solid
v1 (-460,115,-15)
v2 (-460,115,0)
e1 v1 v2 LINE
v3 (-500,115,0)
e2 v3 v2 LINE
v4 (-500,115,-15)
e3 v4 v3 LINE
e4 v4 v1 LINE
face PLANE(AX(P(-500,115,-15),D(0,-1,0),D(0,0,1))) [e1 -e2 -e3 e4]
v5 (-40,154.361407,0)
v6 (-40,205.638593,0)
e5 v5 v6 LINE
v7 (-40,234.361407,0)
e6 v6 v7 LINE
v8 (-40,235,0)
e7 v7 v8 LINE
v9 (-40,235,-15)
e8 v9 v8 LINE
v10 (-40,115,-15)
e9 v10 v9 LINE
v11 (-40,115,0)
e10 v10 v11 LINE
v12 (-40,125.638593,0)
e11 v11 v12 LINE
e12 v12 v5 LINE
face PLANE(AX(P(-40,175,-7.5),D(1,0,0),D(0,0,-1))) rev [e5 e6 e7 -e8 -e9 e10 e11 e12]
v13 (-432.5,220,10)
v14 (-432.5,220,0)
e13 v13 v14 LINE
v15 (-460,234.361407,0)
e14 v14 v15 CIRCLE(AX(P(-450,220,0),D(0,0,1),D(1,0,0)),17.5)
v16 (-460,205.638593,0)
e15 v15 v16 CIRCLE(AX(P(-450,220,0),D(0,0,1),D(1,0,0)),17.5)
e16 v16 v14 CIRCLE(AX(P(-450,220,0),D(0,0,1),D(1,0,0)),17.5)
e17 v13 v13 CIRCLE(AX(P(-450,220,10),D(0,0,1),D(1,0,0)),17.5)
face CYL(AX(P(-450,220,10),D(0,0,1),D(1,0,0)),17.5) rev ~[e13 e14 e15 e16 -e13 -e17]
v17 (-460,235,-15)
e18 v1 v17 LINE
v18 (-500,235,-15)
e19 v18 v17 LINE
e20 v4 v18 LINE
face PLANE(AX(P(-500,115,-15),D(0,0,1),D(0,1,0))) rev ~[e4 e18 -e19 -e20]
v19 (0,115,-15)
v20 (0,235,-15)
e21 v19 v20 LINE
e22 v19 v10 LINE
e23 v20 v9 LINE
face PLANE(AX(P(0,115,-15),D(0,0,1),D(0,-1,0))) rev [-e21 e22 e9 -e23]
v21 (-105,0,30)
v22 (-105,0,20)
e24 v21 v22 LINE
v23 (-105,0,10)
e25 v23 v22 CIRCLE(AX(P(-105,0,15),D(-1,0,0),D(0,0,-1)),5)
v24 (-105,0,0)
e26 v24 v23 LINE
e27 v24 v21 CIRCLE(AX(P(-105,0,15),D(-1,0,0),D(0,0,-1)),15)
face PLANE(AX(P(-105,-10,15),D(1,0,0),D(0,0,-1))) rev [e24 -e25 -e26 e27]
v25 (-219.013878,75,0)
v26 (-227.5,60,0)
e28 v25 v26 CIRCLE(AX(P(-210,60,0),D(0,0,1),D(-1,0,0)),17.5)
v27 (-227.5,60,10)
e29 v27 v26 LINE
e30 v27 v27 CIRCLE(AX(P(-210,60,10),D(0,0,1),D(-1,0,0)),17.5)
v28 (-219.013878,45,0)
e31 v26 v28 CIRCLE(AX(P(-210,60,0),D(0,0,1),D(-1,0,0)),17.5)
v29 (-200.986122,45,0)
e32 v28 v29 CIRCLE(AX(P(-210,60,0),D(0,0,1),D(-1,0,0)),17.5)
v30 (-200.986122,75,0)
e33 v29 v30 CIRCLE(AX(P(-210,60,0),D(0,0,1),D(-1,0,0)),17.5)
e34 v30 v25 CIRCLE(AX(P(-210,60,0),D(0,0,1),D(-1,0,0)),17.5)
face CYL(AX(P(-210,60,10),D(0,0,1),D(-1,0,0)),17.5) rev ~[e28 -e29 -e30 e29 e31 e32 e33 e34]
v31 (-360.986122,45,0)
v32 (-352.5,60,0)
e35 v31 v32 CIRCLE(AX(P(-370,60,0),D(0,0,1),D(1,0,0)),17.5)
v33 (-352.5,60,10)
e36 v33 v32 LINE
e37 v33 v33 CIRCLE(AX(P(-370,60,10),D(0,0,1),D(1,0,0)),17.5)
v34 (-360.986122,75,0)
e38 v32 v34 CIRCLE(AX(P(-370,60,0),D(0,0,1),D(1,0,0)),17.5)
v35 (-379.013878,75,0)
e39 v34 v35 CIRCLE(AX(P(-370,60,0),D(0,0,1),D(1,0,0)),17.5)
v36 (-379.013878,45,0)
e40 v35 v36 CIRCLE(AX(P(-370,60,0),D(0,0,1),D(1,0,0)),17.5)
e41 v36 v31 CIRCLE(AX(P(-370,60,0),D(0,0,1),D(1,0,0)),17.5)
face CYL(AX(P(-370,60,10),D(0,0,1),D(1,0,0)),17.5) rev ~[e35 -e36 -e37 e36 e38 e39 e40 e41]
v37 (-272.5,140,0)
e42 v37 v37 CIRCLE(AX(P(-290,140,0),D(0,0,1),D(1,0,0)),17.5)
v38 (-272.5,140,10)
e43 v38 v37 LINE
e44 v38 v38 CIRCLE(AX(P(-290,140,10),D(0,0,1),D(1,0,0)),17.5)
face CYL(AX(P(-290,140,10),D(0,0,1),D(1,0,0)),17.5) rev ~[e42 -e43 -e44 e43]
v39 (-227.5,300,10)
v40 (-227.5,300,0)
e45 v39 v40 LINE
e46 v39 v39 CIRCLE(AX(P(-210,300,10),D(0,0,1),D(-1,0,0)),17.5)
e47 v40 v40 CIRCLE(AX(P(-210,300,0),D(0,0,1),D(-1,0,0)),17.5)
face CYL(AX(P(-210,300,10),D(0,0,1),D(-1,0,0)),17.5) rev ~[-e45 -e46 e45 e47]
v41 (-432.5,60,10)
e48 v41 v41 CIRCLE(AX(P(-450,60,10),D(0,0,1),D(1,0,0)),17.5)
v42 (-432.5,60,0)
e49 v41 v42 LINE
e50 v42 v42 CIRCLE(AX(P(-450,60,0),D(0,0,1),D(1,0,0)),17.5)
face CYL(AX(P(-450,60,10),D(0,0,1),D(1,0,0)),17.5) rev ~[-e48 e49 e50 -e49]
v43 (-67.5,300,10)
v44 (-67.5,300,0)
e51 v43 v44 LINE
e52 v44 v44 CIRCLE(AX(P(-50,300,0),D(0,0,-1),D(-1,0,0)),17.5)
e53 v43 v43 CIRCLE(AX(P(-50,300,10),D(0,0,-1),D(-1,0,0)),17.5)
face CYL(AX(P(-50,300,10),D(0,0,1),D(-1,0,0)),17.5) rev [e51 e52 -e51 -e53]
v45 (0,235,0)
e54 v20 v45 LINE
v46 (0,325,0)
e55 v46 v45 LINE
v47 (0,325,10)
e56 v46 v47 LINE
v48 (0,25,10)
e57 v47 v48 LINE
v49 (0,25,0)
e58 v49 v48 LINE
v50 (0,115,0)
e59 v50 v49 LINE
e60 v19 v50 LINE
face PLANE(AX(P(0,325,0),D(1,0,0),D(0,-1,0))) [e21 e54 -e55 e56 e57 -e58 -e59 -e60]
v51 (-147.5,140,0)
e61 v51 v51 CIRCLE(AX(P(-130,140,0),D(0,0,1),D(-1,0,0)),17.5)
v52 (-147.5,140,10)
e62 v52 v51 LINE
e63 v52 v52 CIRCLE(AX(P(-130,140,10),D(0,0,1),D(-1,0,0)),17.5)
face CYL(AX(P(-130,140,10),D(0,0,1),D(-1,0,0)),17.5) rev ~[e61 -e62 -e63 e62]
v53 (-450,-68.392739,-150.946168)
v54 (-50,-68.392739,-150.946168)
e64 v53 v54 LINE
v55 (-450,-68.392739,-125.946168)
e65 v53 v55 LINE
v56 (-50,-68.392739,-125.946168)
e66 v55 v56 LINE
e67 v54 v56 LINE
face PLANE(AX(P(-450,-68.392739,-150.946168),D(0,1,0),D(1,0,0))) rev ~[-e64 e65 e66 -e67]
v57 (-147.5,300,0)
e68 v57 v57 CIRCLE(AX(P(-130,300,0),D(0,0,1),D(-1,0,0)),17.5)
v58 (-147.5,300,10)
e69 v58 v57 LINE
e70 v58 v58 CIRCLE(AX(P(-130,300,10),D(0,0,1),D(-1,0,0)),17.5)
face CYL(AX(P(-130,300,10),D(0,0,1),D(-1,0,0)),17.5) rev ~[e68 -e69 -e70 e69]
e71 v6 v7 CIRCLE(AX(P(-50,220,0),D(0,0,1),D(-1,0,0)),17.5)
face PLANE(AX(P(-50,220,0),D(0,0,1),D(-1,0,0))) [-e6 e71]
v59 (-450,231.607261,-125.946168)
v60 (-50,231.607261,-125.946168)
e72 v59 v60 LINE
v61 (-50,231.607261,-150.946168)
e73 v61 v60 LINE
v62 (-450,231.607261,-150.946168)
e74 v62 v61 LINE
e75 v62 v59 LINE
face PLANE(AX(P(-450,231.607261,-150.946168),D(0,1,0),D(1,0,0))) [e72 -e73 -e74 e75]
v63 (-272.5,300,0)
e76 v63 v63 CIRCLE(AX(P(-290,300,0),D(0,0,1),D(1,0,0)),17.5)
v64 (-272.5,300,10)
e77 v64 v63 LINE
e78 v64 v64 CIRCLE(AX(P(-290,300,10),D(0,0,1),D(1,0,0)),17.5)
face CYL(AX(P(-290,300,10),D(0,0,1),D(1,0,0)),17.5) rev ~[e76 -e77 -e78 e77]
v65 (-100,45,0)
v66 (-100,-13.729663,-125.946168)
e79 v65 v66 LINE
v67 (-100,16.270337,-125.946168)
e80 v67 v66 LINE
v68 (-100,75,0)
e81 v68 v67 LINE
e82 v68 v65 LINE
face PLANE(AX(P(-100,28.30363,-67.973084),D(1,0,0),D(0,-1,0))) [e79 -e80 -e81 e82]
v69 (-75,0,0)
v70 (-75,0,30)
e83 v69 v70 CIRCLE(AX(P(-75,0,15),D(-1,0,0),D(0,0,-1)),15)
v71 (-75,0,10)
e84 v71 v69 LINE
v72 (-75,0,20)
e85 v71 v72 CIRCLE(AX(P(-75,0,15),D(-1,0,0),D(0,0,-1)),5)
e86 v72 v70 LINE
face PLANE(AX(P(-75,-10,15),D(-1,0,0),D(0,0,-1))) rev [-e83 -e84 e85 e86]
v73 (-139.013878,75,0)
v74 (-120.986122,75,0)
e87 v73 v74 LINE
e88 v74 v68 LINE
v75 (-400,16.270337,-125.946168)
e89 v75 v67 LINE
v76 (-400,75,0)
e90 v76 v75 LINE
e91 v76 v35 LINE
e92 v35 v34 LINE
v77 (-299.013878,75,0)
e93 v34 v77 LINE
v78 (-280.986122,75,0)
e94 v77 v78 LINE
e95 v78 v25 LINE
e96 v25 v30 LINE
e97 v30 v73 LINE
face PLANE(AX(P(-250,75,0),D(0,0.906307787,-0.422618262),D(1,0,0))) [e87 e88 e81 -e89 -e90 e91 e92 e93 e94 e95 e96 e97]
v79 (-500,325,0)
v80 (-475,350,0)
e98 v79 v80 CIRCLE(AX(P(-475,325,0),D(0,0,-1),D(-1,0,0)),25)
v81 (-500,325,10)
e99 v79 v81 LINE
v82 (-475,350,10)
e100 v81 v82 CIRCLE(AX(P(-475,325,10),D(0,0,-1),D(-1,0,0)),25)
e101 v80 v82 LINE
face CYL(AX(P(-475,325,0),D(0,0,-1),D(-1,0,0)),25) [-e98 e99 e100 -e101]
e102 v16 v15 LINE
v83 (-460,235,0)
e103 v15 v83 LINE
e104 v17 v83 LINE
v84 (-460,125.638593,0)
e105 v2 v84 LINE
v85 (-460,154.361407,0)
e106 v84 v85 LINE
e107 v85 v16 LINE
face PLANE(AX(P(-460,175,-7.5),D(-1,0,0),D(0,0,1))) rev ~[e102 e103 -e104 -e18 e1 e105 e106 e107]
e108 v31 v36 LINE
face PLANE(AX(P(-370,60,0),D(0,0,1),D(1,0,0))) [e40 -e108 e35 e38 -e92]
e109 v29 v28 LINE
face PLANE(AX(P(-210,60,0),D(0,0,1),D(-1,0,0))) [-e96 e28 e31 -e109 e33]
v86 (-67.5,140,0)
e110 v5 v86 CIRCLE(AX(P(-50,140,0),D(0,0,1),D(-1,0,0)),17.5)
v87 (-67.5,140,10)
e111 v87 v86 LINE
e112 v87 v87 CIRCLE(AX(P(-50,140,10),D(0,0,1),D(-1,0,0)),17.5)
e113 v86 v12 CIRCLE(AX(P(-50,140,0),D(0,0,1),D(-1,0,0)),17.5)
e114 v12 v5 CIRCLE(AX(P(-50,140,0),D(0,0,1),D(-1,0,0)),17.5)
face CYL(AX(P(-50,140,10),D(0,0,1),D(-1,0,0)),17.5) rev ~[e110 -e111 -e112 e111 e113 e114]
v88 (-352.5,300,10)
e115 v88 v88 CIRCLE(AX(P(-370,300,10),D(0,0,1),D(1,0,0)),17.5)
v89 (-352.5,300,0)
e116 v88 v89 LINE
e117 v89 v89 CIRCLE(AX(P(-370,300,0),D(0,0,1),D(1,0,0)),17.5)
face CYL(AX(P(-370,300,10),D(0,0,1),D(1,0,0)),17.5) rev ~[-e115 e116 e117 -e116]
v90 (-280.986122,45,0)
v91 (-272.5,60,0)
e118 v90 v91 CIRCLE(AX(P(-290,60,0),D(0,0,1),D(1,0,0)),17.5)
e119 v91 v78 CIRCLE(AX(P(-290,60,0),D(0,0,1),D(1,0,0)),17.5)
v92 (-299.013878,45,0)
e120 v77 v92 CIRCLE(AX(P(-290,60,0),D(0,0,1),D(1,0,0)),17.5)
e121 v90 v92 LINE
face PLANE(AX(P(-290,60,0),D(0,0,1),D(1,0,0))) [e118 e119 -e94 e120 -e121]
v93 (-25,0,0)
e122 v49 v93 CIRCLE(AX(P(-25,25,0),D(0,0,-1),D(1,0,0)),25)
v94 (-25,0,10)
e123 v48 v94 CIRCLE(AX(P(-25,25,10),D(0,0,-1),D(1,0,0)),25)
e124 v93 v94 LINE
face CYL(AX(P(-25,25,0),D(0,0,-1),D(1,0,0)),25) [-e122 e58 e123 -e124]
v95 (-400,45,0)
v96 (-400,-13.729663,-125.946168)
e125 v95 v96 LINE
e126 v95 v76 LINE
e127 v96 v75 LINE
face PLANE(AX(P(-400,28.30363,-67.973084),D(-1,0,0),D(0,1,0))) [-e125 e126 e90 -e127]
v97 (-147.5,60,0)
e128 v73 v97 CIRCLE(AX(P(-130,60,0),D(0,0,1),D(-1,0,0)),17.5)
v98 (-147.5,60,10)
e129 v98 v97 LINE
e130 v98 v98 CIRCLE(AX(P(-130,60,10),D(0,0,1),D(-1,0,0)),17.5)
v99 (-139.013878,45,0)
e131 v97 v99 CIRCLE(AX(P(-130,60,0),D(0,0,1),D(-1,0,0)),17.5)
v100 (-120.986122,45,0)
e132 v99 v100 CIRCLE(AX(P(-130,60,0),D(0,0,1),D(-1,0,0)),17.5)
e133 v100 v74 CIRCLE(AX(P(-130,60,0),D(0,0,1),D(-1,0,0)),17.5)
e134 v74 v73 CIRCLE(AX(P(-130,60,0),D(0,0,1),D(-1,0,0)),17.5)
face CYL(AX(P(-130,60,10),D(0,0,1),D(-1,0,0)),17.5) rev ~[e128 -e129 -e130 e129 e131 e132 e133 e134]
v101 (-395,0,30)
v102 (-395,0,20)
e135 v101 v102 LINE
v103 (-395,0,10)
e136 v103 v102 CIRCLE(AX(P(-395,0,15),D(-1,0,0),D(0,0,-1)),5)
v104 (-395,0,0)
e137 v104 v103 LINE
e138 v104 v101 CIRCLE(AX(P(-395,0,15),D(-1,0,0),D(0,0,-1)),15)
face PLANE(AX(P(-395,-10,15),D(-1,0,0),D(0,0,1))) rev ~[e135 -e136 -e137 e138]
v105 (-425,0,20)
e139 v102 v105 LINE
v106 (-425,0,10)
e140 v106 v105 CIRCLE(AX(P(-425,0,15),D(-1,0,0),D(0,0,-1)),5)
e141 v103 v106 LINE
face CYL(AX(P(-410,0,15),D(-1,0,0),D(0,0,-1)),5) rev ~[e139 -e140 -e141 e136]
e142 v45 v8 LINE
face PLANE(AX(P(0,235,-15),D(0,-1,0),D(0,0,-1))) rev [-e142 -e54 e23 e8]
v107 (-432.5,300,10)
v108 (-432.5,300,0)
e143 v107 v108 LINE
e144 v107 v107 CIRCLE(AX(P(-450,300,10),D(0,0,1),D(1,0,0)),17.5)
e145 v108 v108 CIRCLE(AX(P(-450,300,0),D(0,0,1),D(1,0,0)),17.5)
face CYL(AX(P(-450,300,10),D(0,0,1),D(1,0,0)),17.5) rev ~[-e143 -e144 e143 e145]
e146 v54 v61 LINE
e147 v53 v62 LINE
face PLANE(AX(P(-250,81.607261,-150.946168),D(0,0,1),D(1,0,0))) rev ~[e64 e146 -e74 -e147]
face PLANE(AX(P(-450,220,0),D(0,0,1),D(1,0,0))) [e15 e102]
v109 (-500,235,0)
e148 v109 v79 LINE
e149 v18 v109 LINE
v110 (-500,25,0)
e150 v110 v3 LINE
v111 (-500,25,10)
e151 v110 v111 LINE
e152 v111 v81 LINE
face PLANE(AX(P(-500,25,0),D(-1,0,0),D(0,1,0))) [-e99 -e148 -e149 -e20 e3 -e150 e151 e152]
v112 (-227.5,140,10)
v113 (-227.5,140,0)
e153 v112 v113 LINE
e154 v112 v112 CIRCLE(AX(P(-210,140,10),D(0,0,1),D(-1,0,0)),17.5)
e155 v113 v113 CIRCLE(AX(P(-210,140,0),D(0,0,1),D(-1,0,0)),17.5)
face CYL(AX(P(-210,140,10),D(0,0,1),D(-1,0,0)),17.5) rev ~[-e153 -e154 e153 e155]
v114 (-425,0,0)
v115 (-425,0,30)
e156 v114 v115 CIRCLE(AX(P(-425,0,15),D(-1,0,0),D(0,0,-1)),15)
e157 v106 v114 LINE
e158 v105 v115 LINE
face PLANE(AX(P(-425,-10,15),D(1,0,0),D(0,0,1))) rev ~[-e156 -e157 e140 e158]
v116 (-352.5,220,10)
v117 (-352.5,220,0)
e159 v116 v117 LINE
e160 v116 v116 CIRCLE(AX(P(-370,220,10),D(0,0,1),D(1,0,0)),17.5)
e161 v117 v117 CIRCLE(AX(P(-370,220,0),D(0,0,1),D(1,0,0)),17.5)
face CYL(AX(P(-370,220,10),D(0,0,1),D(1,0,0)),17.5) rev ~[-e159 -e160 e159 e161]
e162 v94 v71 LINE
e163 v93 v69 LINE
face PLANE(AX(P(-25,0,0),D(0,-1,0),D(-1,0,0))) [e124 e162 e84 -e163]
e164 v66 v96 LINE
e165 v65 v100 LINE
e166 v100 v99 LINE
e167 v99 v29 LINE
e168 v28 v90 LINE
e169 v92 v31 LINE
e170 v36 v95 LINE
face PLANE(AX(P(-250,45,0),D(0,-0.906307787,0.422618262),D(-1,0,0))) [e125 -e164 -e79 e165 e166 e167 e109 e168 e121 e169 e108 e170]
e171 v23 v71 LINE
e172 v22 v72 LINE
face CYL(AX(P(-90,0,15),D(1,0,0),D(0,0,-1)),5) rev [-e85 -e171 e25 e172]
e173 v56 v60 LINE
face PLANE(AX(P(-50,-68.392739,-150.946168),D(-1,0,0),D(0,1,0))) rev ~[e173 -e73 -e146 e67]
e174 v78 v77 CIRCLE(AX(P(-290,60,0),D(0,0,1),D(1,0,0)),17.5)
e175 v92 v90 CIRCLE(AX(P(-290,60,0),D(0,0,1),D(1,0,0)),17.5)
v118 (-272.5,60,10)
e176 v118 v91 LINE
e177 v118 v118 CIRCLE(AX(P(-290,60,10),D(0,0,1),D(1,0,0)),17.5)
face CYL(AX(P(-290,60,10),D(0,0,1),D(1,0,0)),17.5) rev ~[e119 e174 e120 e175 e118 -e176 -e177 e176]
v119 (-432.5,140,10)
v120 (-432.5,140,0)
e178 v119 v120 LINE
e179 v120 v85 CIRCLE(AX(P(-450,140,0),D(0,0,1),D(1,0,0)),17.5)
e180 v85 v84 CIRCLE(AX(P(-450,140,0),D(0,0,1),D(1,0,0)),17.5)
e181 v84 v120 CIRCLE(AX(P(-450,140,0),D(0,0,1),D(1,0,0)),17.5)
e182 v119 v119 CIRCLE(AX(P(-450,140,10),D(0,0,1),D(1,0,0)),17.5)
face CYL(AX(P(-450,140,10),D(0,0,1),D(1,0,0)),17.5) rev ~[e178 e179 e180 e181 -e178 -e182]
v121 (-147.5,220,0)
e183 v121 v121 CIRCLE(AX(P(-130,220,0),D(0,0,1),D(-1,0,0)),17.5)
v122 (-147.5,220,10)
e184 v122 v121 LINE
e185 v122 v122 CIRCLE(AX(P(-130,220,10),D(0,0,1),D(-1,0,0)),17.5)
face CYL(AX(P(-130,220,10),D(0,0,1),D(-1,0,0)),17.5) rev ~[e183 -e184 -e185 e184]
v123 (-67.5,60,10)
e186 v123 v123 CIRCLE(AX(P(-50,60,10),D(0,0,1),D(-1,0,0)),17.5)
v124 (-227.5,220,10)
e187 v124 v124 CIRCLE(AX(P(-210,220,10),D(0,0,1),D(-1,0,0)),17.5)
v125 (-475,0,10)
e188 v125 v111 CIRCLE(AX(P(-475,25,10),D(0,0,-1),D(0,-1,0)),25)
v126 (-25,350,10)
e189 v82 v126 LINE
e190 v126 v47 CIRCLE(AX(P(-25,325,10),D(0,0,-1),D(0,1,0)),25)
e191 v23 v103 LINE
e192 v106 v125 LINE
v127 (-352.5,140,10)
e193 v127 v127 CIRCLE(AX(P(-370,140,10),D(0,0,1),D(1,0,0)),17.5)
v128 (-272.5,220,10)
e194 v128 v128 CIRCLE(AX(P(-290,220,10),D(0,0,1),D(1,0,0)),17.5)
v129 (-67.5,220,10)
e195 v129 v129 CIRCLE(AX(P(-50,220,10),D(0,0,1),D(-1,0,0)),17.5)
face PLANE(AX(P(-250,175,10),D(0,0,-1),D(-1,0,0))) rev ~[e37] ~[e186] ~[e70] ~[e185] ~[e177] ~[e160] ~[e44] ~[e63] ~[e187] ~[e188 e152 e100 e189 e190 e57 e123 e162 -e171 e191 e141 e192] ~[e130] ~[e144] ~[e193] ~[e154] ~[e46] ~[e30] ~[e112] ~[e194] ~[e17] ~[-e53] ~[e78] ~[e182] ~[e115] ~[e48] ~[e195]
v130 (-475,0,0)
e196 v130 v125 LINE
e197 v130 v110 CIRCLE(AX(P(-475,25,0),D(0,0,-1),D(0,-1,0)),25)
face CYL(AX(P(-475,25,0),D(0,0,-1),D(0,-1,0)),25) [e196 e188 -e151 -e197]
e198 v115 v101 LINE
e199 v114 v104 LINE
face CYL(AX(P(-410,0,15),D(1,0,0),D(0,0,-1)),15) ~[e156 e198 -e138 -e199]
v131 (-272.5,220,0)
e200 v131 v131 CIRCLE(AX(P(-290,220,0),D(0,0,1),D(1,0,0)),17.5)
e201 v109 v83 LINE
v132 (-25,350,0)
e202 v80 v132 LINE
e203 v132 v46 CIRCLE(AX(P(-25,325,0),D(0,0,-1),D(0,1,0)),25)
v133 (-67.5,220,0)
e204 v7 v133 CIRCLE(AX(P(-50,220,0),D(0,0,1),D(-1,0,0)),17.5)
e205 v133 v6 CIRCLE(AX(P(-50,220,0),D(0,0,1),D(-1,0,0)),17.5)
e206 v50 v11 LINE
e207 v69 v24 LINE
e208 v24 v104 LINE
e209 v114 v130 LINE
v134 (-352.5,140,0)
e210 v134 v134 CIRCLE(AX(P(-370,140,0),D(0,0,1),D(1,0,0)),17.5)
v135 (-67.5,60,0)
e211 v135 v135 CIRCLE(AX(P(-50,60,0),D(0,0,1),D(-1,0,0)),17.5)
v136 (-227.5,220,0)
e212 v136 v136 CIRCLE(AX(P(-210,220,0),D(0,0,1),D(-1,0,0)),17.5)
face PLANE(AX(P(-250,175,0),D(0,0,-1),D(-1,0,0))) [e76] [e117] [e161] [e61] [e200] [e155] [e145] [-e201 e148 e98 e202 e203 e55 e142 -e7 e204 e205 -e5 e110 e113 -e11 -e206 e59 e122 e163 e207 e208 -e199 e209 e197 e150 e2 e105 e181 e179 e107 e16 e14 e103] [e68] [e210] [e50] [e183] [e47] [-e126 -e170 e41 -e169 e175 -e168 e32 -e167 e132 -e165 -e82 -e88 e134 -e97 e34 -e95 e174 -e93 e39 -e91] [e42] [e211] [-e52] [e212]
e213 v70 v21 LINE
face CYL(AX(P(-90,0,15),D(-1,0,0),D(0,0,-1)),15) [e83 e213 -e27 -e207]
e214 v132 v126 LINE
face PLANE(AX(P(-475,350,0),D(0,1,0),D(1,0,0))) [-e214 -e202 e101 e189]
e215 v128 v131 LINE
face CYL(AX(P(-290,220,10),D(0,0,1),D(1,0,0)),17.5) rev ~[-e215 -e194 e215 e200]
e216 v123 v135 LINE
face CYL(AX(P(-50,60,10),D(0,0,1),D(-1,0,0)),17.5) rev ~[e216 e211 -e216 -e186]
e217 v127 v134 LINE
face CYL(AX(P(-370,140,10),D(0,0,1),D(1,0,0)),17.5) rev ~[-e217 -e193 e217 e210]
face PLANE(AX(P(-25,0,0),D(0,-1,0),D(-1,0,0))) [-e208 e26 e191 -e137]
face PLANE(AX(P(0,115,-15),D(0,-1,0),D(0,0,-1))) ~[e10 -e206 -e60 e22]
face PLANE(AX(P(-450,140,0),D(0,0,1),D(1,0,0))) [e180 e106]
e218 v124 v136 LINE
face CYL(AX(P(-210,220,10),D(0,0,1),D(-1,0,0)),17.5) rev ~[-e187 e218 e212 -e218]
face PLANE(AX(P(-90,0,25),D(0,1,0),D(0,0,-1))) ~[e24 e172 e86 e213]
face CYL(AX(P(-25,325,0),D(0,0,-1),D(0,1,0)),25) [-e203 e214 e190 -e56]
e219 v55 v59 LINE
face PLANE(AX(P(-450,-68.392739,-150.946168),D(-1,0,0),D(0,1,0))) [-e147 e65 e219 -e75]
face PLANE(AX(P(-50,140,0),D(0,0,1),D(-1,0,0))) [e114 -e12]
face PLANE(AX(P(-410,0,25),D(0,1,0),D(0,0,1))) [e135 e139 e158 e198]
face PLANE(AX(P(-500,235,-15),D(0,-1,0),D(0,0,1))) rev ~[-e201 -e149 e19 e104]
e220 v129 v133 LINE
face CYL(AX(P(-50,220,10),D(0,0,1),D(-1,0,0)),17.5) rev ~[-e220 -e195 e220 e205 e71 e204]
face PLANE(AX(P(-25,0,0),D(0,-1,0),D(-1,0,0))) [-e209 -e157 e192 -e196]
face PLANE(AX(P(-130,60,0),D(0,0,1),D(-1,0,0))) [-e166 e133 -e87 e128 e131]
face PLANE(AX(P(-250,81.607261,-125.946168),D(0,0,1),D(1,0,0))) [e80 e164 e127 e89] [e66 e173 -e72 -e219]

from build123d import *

# Parameters (mm, degrees)
BOSS_EXTRUDE1_DEPTH      = 10
SKETCH2_W                = 30
SKETCH2_H                = 10
SKETCH6_W                = 15
SKETCH6_H                = 120
BOSS_EXTRUDE2_DEPTH      = 40
SKETCH7_W                = 300
SKETCH7_H                = 30
BOSS_EXTRUDE3_DEPTH      = 10
BOSS_EXTRUDE3_DEPTH_BACK = 15
SKETCH10_W               = 400
SKETCH10_H               = 300
SKETCH11_R               = 17.5
CUT_EXTRUDE1_DEPTH       = 10
LPATTERN1_COUNT          = 3
LPATTERN1_PITCH          = 80
LPATTERN1_COUNT_DIR2     = 4
LPATTERN1_PITCH_DIR2     = 80
MIRROR1_COPY_1_SKETCH_R  = 17.5
MIRROR1_COPY_1_DEPTH     = 10
MIRROR1_COPY_2_SKETCH_R  = 17.5
MIRROR1_COPY_2_DEPTH     = 10
MIRROR1_COPY_3_SKETCH_R  = 17.5
MIRROR1_COPY_3_DEPTH     = 10
MIRROR1_COPY_4_SKETCH_R  = 17.5
MIRROR1_COPY_4_DEPTH     = 10
MIRROR1_COPY_5_SKETCH_R  = 17.5
MIRROR1_COPY_5_DEPTH     = 10
MIRROR1_COPY_6_SKETCH_R  = 17.5
MIRROR1_COPY_6_DEPTH     = 10
MIRROR1_COPY_7_SKETCH_R  = 17.5
MIRROR1_COPY_7_DEPTH     = 10
MIRROR1_COPY_8_SKETCH_R  = 17.5
MIRROR1_COPY_8_DEPTH     = 10
MIRROR1_COPY_9_SKETCH_R  = 17.5
MIRROR1_COPY_9_DEPTH     = 10
MIRROR1_COPY_10_SKETCH_R = 17.5
MIRROR1_COPY_10_DEPTH    = 10
MIRROR1_COPY_11_SKETCH_R = 17.5
MIRROR1_COPY_11_DEPTH    = 10


with BuildPart() as part:
    # Sketch1 → Boss-Extrude1 (new body)
    with BuildSketch(Plane.XY):
        with BuildLine():
            Line((-475, 350), (-25, 350))
            ThreePointArc((-25, 350), (-7.32233047, 342.67766953), (0, 325))
            Line((0, 325), (0, 25))
            ThreePointArc((0, 25), (-7.32233047, 7.32233047), (-25, 0))
            Line((-25, 0), (-475, 0))
            ThreePointArc((-475, 0), (-492.67766953, 7.32233047), (-500, 25))
            Line((-500, 25), (-500, 325))
            ThreePointArc((-500, 325), (-492.67766953, 342.67766953), (-475, 350))
        make_face()
    extrude(amount=BOSS_EXTRUDE1_DEPTH)

    # Sweep1: sweep along a path in Sketch3
    with BuildLine(Plane.ZY.offset(410)) as sweep1_path:
        ThreePointArc((5, 0), (15, -10), (25, 0))
    # Sketch2 → Sweep1 (sweep)
    with BuildSketch(Plane.XZ):
        with Locations((-410, 5)):
            Rectangle(SKETCH2_W, SKETCH2_H)
    sweep1 = sweep(path=sweep1_path.line)

    # Sketch6 → Boss-Extrude2 (add)
    with BuildSketch(Plane.ZY.offset(500)):
        with Locations((-7.5, 175)):
            Rectangle(SKETCH6_W, SKETCH6_H)
    boss_extrude2 = extrude(amount=-BOSS_EXTRUDE2_DEPTH)

    # Sweep2: sweep along a path in Sketch8
    with BuildLine(Plane.ZY.offset(250)) as sweep2_path:
        Line((0, 45.401266602), (-135.946168055, -17.991472659))
    # Sketch7 → Sweep2 (sweep)
    with BuildSketch(Plane(origin=(0, 0, 0), x_dir=(-1, 0, 0), z_dir=(0, 0, -1))):
        with Locations((250, 60)):
            Rectangle(SKETCH7_W, SKETCH7_H)
    sweep(path=sweep2_path.line)

    # Sketch10 → Boss-Extrude3 (add, two sides: drawn at the far end of the back side and taken through both)
    with BuildSketch(Plane(origin=(-400, -18.392739261, -135.946168055), x_dir=(1, 0, 0), z_dir=(0, 0, 1)).offset(-BOSS_EXTRUDE3_DEPTH_BACK)):
        with Locations((150, 100)):
            Rectangle(SKETCH10_W, SKETCH10_H)
    extrude(amount=BOSS_EXTRUDE3_DEPTH + BOSS_EXTRUDE3_DEPTH_BACK)

    # Sketch11 → Cut-Extrude1 (cut)
    with BuildSketch(Plane.XY.offset(10)):
        with Locations((-450, 300)):
            Circle(SKETCH11_R)
    cut_extrude1 = extrude(amount=-CUT_EXTRUDE1_DEPTH, mode=Mode.SUBTRACT)

    # LPattern1: Cut-Extrude1 3 × 4
    with Locations(*[(i * LPATTERN1_PITCH, -j * LPATTERN1_PITCH_DIR2, 0) for i in range(LPATTERN1_COUNT) for j in range(LPATTERN1_COUNT_DIR2) if (i, j) != (0, 0)]):
        add(cut_extrude1, mode=Mode.SUBTRACT)

    # Mirror1: Sweep1, Boss-Extrude2, Cut-Extrude1 across plane
    add(sweep1.mirror(Plane.ZY.offset(250)))
    add(boss_extrude2.mirror(Plane.ZY.offset(250)))
    add(cut_extrude1.mirror(Plane.ZY.offset(250)), mode=Mode.SUBTRACT)

    # Mirror1 copy 1 sketch → Mirror1 copy 1 (cut)
    with BuildSketch(Plane(origin=(-500, -80, 10), x_dir=(-1, 0, 0), z_dir=(0, 0, 1))):
        with Locations((-450, -300)):
            Circle(MIRROR1_COPY_1_SKETCH_R)
    extrude(amount=-MIRROR1_COPY_1_DEPTH, mode=Mode.SUBTRACT)

    # Mirror1 copy 2 sketch → Mirror1 copy 2 (cut)
    with BuildSketch(Plane(origin=(-500, -160, 10), x_dir=(-1, 0, 0), z_dir=(0, 0, 1))):
        with Locations((-450, -300)):
            Circle(MIRROR1_COPY_2_SKETCH_R)
    extrude(amount=-MIRROR1_COPY_2_DEPTH, mode=Mode.SUBTRACT)

    # Mirror1 copy 3 sketch → Mirror1 copy 3 (cut)
    with BuildSketch(Plane(origin=(-500, -240, 10), x_dir=(-1, 0, 0), z_dir=(0, 0, 1))):
        with Locations((-450, -300)):
            Circle(MIRROR1_COPY_3_SKETCH_R)
    extrude(amount=-MIRROR1_COPY_3_DEPTH, mode=Mode.SUBTRACT)

    # Mirror1 copy 4 sketch → Mirror1 copy 4 (cut)
    with BuildSketch(Plane(origin=(-580, 0, 10), x_dir=(-1, 0, 0), z_dir=(0, 0, 1))):
        with Locations((-450, -300)):
            Circle(MIRROR1_COPY_4_SKETCH_R)
    extrude(amount=-MIRROR1_COPY_4_DEPTH, mode=Mode.SUBTRACT)

    # Mirror1 copy 5 sketch → Mirror1 copy 5 (cut)
    with BuildSketch(Plane(origin=(-580, -80, 10), x_dir=(-1, 0, 0), z_dir=(0, 0, 1))):
        with Locations((-450, -300)):
            Circle(MIRROR1_COPY_5_SKETCH_R)
    extrude(amount=-MIRROR1_COPY_5_DEPTH, mode=Mode.SUBTRACT)

    # Mirror1 copy 6 sketch → Mirror1 copy 6 (cut)
    with BuildSketch(Plane(origin=(-580, -160, 10), x_dir=(-1, 0, 0), z_dir=(0, 0, 1))):
        with Locations((-450, -300)):
            Circle(MIRROR1_COPY_6_SKETCH_R)
    extrude(amount=-MIRROR1_COPY_6_DEPTH, mode=Mode.SUBTRACT)

    # Mirror1 copy 7 sketch → Mirror1 copy 7 (cut)
    with BuildSketch(Plane(origin=(-580, -240, 10), x_dir=(-1, 0, 0), z_dir=(0, 0, 1))):
        with Locations((-450, -300)):
            Circle(MIRROR1_COPY_7_SKETCH_R)
    extrude(amount=-MIRROR1_COPY_7_DEPTH, mode=Mode.SUBTRACT)

    # Mirror1 copy 8 sketch → Mirror1 copy 8 (cut)
    with BuildSketch(Plane(origin=(-660, 0, 10), x_dir=(-1, 0, 0), z_dir=(0, 0, 1))):
        with Locations((-450, -300)):
            Circle(MIRROR1_COPY_8_SKETCH_R)
    extrude(amount=-MIRROR1_COPY_8_DEPTH, mode=Mode.SUBTRACT)

    # Mirror1 copy 9 sketch → Mirror1 copy 9 (cut)
    with BuildSketch(Plane(origin=(-660, -80, 10), x_dir=(-1, 0, 0), z_dir=(0, 0, 1))):
        with Locations((-450, -300)):
            Circle(MIRROR1_COPY_9_SKETCH_R)
    extrude(amount=-MIRROR1_COPY_9_DEPTH, mode=Mode.SUBTRACT)

    # Mirror1 copy 10 sketch → Mirror1 copy 10 (cut)
    with BuildSketch(Plane(origin=(-660, -160, 10), x_dir=(-1, 0, 0), z_dir=(0, 0, 1))):
        with Locations((-450, -300)):
            Circle(MIRROR1_COPY_10_SKETCH_R)
    extrude(amount=-MIRROR1_COPY_10_DEPTH, mode=Mode.SUBTRACT)

    # Mirror1 copy 11 sketch → Mirror1 copy 11 (cut)
    with BuildSketch(Plane(origin=(-660, -240, 10), x_dir=(-1, 0, 0), z_dir=(0, 0, 1))):
        with Locations((-450, -300)):
            Circle(MIRROR1_COPY_11_SKETCH_R)
    extrude(amount=-MIRROR1_COPY_11_DEPTH, mode=Mode.SUBTRACT)


solid = part.part
